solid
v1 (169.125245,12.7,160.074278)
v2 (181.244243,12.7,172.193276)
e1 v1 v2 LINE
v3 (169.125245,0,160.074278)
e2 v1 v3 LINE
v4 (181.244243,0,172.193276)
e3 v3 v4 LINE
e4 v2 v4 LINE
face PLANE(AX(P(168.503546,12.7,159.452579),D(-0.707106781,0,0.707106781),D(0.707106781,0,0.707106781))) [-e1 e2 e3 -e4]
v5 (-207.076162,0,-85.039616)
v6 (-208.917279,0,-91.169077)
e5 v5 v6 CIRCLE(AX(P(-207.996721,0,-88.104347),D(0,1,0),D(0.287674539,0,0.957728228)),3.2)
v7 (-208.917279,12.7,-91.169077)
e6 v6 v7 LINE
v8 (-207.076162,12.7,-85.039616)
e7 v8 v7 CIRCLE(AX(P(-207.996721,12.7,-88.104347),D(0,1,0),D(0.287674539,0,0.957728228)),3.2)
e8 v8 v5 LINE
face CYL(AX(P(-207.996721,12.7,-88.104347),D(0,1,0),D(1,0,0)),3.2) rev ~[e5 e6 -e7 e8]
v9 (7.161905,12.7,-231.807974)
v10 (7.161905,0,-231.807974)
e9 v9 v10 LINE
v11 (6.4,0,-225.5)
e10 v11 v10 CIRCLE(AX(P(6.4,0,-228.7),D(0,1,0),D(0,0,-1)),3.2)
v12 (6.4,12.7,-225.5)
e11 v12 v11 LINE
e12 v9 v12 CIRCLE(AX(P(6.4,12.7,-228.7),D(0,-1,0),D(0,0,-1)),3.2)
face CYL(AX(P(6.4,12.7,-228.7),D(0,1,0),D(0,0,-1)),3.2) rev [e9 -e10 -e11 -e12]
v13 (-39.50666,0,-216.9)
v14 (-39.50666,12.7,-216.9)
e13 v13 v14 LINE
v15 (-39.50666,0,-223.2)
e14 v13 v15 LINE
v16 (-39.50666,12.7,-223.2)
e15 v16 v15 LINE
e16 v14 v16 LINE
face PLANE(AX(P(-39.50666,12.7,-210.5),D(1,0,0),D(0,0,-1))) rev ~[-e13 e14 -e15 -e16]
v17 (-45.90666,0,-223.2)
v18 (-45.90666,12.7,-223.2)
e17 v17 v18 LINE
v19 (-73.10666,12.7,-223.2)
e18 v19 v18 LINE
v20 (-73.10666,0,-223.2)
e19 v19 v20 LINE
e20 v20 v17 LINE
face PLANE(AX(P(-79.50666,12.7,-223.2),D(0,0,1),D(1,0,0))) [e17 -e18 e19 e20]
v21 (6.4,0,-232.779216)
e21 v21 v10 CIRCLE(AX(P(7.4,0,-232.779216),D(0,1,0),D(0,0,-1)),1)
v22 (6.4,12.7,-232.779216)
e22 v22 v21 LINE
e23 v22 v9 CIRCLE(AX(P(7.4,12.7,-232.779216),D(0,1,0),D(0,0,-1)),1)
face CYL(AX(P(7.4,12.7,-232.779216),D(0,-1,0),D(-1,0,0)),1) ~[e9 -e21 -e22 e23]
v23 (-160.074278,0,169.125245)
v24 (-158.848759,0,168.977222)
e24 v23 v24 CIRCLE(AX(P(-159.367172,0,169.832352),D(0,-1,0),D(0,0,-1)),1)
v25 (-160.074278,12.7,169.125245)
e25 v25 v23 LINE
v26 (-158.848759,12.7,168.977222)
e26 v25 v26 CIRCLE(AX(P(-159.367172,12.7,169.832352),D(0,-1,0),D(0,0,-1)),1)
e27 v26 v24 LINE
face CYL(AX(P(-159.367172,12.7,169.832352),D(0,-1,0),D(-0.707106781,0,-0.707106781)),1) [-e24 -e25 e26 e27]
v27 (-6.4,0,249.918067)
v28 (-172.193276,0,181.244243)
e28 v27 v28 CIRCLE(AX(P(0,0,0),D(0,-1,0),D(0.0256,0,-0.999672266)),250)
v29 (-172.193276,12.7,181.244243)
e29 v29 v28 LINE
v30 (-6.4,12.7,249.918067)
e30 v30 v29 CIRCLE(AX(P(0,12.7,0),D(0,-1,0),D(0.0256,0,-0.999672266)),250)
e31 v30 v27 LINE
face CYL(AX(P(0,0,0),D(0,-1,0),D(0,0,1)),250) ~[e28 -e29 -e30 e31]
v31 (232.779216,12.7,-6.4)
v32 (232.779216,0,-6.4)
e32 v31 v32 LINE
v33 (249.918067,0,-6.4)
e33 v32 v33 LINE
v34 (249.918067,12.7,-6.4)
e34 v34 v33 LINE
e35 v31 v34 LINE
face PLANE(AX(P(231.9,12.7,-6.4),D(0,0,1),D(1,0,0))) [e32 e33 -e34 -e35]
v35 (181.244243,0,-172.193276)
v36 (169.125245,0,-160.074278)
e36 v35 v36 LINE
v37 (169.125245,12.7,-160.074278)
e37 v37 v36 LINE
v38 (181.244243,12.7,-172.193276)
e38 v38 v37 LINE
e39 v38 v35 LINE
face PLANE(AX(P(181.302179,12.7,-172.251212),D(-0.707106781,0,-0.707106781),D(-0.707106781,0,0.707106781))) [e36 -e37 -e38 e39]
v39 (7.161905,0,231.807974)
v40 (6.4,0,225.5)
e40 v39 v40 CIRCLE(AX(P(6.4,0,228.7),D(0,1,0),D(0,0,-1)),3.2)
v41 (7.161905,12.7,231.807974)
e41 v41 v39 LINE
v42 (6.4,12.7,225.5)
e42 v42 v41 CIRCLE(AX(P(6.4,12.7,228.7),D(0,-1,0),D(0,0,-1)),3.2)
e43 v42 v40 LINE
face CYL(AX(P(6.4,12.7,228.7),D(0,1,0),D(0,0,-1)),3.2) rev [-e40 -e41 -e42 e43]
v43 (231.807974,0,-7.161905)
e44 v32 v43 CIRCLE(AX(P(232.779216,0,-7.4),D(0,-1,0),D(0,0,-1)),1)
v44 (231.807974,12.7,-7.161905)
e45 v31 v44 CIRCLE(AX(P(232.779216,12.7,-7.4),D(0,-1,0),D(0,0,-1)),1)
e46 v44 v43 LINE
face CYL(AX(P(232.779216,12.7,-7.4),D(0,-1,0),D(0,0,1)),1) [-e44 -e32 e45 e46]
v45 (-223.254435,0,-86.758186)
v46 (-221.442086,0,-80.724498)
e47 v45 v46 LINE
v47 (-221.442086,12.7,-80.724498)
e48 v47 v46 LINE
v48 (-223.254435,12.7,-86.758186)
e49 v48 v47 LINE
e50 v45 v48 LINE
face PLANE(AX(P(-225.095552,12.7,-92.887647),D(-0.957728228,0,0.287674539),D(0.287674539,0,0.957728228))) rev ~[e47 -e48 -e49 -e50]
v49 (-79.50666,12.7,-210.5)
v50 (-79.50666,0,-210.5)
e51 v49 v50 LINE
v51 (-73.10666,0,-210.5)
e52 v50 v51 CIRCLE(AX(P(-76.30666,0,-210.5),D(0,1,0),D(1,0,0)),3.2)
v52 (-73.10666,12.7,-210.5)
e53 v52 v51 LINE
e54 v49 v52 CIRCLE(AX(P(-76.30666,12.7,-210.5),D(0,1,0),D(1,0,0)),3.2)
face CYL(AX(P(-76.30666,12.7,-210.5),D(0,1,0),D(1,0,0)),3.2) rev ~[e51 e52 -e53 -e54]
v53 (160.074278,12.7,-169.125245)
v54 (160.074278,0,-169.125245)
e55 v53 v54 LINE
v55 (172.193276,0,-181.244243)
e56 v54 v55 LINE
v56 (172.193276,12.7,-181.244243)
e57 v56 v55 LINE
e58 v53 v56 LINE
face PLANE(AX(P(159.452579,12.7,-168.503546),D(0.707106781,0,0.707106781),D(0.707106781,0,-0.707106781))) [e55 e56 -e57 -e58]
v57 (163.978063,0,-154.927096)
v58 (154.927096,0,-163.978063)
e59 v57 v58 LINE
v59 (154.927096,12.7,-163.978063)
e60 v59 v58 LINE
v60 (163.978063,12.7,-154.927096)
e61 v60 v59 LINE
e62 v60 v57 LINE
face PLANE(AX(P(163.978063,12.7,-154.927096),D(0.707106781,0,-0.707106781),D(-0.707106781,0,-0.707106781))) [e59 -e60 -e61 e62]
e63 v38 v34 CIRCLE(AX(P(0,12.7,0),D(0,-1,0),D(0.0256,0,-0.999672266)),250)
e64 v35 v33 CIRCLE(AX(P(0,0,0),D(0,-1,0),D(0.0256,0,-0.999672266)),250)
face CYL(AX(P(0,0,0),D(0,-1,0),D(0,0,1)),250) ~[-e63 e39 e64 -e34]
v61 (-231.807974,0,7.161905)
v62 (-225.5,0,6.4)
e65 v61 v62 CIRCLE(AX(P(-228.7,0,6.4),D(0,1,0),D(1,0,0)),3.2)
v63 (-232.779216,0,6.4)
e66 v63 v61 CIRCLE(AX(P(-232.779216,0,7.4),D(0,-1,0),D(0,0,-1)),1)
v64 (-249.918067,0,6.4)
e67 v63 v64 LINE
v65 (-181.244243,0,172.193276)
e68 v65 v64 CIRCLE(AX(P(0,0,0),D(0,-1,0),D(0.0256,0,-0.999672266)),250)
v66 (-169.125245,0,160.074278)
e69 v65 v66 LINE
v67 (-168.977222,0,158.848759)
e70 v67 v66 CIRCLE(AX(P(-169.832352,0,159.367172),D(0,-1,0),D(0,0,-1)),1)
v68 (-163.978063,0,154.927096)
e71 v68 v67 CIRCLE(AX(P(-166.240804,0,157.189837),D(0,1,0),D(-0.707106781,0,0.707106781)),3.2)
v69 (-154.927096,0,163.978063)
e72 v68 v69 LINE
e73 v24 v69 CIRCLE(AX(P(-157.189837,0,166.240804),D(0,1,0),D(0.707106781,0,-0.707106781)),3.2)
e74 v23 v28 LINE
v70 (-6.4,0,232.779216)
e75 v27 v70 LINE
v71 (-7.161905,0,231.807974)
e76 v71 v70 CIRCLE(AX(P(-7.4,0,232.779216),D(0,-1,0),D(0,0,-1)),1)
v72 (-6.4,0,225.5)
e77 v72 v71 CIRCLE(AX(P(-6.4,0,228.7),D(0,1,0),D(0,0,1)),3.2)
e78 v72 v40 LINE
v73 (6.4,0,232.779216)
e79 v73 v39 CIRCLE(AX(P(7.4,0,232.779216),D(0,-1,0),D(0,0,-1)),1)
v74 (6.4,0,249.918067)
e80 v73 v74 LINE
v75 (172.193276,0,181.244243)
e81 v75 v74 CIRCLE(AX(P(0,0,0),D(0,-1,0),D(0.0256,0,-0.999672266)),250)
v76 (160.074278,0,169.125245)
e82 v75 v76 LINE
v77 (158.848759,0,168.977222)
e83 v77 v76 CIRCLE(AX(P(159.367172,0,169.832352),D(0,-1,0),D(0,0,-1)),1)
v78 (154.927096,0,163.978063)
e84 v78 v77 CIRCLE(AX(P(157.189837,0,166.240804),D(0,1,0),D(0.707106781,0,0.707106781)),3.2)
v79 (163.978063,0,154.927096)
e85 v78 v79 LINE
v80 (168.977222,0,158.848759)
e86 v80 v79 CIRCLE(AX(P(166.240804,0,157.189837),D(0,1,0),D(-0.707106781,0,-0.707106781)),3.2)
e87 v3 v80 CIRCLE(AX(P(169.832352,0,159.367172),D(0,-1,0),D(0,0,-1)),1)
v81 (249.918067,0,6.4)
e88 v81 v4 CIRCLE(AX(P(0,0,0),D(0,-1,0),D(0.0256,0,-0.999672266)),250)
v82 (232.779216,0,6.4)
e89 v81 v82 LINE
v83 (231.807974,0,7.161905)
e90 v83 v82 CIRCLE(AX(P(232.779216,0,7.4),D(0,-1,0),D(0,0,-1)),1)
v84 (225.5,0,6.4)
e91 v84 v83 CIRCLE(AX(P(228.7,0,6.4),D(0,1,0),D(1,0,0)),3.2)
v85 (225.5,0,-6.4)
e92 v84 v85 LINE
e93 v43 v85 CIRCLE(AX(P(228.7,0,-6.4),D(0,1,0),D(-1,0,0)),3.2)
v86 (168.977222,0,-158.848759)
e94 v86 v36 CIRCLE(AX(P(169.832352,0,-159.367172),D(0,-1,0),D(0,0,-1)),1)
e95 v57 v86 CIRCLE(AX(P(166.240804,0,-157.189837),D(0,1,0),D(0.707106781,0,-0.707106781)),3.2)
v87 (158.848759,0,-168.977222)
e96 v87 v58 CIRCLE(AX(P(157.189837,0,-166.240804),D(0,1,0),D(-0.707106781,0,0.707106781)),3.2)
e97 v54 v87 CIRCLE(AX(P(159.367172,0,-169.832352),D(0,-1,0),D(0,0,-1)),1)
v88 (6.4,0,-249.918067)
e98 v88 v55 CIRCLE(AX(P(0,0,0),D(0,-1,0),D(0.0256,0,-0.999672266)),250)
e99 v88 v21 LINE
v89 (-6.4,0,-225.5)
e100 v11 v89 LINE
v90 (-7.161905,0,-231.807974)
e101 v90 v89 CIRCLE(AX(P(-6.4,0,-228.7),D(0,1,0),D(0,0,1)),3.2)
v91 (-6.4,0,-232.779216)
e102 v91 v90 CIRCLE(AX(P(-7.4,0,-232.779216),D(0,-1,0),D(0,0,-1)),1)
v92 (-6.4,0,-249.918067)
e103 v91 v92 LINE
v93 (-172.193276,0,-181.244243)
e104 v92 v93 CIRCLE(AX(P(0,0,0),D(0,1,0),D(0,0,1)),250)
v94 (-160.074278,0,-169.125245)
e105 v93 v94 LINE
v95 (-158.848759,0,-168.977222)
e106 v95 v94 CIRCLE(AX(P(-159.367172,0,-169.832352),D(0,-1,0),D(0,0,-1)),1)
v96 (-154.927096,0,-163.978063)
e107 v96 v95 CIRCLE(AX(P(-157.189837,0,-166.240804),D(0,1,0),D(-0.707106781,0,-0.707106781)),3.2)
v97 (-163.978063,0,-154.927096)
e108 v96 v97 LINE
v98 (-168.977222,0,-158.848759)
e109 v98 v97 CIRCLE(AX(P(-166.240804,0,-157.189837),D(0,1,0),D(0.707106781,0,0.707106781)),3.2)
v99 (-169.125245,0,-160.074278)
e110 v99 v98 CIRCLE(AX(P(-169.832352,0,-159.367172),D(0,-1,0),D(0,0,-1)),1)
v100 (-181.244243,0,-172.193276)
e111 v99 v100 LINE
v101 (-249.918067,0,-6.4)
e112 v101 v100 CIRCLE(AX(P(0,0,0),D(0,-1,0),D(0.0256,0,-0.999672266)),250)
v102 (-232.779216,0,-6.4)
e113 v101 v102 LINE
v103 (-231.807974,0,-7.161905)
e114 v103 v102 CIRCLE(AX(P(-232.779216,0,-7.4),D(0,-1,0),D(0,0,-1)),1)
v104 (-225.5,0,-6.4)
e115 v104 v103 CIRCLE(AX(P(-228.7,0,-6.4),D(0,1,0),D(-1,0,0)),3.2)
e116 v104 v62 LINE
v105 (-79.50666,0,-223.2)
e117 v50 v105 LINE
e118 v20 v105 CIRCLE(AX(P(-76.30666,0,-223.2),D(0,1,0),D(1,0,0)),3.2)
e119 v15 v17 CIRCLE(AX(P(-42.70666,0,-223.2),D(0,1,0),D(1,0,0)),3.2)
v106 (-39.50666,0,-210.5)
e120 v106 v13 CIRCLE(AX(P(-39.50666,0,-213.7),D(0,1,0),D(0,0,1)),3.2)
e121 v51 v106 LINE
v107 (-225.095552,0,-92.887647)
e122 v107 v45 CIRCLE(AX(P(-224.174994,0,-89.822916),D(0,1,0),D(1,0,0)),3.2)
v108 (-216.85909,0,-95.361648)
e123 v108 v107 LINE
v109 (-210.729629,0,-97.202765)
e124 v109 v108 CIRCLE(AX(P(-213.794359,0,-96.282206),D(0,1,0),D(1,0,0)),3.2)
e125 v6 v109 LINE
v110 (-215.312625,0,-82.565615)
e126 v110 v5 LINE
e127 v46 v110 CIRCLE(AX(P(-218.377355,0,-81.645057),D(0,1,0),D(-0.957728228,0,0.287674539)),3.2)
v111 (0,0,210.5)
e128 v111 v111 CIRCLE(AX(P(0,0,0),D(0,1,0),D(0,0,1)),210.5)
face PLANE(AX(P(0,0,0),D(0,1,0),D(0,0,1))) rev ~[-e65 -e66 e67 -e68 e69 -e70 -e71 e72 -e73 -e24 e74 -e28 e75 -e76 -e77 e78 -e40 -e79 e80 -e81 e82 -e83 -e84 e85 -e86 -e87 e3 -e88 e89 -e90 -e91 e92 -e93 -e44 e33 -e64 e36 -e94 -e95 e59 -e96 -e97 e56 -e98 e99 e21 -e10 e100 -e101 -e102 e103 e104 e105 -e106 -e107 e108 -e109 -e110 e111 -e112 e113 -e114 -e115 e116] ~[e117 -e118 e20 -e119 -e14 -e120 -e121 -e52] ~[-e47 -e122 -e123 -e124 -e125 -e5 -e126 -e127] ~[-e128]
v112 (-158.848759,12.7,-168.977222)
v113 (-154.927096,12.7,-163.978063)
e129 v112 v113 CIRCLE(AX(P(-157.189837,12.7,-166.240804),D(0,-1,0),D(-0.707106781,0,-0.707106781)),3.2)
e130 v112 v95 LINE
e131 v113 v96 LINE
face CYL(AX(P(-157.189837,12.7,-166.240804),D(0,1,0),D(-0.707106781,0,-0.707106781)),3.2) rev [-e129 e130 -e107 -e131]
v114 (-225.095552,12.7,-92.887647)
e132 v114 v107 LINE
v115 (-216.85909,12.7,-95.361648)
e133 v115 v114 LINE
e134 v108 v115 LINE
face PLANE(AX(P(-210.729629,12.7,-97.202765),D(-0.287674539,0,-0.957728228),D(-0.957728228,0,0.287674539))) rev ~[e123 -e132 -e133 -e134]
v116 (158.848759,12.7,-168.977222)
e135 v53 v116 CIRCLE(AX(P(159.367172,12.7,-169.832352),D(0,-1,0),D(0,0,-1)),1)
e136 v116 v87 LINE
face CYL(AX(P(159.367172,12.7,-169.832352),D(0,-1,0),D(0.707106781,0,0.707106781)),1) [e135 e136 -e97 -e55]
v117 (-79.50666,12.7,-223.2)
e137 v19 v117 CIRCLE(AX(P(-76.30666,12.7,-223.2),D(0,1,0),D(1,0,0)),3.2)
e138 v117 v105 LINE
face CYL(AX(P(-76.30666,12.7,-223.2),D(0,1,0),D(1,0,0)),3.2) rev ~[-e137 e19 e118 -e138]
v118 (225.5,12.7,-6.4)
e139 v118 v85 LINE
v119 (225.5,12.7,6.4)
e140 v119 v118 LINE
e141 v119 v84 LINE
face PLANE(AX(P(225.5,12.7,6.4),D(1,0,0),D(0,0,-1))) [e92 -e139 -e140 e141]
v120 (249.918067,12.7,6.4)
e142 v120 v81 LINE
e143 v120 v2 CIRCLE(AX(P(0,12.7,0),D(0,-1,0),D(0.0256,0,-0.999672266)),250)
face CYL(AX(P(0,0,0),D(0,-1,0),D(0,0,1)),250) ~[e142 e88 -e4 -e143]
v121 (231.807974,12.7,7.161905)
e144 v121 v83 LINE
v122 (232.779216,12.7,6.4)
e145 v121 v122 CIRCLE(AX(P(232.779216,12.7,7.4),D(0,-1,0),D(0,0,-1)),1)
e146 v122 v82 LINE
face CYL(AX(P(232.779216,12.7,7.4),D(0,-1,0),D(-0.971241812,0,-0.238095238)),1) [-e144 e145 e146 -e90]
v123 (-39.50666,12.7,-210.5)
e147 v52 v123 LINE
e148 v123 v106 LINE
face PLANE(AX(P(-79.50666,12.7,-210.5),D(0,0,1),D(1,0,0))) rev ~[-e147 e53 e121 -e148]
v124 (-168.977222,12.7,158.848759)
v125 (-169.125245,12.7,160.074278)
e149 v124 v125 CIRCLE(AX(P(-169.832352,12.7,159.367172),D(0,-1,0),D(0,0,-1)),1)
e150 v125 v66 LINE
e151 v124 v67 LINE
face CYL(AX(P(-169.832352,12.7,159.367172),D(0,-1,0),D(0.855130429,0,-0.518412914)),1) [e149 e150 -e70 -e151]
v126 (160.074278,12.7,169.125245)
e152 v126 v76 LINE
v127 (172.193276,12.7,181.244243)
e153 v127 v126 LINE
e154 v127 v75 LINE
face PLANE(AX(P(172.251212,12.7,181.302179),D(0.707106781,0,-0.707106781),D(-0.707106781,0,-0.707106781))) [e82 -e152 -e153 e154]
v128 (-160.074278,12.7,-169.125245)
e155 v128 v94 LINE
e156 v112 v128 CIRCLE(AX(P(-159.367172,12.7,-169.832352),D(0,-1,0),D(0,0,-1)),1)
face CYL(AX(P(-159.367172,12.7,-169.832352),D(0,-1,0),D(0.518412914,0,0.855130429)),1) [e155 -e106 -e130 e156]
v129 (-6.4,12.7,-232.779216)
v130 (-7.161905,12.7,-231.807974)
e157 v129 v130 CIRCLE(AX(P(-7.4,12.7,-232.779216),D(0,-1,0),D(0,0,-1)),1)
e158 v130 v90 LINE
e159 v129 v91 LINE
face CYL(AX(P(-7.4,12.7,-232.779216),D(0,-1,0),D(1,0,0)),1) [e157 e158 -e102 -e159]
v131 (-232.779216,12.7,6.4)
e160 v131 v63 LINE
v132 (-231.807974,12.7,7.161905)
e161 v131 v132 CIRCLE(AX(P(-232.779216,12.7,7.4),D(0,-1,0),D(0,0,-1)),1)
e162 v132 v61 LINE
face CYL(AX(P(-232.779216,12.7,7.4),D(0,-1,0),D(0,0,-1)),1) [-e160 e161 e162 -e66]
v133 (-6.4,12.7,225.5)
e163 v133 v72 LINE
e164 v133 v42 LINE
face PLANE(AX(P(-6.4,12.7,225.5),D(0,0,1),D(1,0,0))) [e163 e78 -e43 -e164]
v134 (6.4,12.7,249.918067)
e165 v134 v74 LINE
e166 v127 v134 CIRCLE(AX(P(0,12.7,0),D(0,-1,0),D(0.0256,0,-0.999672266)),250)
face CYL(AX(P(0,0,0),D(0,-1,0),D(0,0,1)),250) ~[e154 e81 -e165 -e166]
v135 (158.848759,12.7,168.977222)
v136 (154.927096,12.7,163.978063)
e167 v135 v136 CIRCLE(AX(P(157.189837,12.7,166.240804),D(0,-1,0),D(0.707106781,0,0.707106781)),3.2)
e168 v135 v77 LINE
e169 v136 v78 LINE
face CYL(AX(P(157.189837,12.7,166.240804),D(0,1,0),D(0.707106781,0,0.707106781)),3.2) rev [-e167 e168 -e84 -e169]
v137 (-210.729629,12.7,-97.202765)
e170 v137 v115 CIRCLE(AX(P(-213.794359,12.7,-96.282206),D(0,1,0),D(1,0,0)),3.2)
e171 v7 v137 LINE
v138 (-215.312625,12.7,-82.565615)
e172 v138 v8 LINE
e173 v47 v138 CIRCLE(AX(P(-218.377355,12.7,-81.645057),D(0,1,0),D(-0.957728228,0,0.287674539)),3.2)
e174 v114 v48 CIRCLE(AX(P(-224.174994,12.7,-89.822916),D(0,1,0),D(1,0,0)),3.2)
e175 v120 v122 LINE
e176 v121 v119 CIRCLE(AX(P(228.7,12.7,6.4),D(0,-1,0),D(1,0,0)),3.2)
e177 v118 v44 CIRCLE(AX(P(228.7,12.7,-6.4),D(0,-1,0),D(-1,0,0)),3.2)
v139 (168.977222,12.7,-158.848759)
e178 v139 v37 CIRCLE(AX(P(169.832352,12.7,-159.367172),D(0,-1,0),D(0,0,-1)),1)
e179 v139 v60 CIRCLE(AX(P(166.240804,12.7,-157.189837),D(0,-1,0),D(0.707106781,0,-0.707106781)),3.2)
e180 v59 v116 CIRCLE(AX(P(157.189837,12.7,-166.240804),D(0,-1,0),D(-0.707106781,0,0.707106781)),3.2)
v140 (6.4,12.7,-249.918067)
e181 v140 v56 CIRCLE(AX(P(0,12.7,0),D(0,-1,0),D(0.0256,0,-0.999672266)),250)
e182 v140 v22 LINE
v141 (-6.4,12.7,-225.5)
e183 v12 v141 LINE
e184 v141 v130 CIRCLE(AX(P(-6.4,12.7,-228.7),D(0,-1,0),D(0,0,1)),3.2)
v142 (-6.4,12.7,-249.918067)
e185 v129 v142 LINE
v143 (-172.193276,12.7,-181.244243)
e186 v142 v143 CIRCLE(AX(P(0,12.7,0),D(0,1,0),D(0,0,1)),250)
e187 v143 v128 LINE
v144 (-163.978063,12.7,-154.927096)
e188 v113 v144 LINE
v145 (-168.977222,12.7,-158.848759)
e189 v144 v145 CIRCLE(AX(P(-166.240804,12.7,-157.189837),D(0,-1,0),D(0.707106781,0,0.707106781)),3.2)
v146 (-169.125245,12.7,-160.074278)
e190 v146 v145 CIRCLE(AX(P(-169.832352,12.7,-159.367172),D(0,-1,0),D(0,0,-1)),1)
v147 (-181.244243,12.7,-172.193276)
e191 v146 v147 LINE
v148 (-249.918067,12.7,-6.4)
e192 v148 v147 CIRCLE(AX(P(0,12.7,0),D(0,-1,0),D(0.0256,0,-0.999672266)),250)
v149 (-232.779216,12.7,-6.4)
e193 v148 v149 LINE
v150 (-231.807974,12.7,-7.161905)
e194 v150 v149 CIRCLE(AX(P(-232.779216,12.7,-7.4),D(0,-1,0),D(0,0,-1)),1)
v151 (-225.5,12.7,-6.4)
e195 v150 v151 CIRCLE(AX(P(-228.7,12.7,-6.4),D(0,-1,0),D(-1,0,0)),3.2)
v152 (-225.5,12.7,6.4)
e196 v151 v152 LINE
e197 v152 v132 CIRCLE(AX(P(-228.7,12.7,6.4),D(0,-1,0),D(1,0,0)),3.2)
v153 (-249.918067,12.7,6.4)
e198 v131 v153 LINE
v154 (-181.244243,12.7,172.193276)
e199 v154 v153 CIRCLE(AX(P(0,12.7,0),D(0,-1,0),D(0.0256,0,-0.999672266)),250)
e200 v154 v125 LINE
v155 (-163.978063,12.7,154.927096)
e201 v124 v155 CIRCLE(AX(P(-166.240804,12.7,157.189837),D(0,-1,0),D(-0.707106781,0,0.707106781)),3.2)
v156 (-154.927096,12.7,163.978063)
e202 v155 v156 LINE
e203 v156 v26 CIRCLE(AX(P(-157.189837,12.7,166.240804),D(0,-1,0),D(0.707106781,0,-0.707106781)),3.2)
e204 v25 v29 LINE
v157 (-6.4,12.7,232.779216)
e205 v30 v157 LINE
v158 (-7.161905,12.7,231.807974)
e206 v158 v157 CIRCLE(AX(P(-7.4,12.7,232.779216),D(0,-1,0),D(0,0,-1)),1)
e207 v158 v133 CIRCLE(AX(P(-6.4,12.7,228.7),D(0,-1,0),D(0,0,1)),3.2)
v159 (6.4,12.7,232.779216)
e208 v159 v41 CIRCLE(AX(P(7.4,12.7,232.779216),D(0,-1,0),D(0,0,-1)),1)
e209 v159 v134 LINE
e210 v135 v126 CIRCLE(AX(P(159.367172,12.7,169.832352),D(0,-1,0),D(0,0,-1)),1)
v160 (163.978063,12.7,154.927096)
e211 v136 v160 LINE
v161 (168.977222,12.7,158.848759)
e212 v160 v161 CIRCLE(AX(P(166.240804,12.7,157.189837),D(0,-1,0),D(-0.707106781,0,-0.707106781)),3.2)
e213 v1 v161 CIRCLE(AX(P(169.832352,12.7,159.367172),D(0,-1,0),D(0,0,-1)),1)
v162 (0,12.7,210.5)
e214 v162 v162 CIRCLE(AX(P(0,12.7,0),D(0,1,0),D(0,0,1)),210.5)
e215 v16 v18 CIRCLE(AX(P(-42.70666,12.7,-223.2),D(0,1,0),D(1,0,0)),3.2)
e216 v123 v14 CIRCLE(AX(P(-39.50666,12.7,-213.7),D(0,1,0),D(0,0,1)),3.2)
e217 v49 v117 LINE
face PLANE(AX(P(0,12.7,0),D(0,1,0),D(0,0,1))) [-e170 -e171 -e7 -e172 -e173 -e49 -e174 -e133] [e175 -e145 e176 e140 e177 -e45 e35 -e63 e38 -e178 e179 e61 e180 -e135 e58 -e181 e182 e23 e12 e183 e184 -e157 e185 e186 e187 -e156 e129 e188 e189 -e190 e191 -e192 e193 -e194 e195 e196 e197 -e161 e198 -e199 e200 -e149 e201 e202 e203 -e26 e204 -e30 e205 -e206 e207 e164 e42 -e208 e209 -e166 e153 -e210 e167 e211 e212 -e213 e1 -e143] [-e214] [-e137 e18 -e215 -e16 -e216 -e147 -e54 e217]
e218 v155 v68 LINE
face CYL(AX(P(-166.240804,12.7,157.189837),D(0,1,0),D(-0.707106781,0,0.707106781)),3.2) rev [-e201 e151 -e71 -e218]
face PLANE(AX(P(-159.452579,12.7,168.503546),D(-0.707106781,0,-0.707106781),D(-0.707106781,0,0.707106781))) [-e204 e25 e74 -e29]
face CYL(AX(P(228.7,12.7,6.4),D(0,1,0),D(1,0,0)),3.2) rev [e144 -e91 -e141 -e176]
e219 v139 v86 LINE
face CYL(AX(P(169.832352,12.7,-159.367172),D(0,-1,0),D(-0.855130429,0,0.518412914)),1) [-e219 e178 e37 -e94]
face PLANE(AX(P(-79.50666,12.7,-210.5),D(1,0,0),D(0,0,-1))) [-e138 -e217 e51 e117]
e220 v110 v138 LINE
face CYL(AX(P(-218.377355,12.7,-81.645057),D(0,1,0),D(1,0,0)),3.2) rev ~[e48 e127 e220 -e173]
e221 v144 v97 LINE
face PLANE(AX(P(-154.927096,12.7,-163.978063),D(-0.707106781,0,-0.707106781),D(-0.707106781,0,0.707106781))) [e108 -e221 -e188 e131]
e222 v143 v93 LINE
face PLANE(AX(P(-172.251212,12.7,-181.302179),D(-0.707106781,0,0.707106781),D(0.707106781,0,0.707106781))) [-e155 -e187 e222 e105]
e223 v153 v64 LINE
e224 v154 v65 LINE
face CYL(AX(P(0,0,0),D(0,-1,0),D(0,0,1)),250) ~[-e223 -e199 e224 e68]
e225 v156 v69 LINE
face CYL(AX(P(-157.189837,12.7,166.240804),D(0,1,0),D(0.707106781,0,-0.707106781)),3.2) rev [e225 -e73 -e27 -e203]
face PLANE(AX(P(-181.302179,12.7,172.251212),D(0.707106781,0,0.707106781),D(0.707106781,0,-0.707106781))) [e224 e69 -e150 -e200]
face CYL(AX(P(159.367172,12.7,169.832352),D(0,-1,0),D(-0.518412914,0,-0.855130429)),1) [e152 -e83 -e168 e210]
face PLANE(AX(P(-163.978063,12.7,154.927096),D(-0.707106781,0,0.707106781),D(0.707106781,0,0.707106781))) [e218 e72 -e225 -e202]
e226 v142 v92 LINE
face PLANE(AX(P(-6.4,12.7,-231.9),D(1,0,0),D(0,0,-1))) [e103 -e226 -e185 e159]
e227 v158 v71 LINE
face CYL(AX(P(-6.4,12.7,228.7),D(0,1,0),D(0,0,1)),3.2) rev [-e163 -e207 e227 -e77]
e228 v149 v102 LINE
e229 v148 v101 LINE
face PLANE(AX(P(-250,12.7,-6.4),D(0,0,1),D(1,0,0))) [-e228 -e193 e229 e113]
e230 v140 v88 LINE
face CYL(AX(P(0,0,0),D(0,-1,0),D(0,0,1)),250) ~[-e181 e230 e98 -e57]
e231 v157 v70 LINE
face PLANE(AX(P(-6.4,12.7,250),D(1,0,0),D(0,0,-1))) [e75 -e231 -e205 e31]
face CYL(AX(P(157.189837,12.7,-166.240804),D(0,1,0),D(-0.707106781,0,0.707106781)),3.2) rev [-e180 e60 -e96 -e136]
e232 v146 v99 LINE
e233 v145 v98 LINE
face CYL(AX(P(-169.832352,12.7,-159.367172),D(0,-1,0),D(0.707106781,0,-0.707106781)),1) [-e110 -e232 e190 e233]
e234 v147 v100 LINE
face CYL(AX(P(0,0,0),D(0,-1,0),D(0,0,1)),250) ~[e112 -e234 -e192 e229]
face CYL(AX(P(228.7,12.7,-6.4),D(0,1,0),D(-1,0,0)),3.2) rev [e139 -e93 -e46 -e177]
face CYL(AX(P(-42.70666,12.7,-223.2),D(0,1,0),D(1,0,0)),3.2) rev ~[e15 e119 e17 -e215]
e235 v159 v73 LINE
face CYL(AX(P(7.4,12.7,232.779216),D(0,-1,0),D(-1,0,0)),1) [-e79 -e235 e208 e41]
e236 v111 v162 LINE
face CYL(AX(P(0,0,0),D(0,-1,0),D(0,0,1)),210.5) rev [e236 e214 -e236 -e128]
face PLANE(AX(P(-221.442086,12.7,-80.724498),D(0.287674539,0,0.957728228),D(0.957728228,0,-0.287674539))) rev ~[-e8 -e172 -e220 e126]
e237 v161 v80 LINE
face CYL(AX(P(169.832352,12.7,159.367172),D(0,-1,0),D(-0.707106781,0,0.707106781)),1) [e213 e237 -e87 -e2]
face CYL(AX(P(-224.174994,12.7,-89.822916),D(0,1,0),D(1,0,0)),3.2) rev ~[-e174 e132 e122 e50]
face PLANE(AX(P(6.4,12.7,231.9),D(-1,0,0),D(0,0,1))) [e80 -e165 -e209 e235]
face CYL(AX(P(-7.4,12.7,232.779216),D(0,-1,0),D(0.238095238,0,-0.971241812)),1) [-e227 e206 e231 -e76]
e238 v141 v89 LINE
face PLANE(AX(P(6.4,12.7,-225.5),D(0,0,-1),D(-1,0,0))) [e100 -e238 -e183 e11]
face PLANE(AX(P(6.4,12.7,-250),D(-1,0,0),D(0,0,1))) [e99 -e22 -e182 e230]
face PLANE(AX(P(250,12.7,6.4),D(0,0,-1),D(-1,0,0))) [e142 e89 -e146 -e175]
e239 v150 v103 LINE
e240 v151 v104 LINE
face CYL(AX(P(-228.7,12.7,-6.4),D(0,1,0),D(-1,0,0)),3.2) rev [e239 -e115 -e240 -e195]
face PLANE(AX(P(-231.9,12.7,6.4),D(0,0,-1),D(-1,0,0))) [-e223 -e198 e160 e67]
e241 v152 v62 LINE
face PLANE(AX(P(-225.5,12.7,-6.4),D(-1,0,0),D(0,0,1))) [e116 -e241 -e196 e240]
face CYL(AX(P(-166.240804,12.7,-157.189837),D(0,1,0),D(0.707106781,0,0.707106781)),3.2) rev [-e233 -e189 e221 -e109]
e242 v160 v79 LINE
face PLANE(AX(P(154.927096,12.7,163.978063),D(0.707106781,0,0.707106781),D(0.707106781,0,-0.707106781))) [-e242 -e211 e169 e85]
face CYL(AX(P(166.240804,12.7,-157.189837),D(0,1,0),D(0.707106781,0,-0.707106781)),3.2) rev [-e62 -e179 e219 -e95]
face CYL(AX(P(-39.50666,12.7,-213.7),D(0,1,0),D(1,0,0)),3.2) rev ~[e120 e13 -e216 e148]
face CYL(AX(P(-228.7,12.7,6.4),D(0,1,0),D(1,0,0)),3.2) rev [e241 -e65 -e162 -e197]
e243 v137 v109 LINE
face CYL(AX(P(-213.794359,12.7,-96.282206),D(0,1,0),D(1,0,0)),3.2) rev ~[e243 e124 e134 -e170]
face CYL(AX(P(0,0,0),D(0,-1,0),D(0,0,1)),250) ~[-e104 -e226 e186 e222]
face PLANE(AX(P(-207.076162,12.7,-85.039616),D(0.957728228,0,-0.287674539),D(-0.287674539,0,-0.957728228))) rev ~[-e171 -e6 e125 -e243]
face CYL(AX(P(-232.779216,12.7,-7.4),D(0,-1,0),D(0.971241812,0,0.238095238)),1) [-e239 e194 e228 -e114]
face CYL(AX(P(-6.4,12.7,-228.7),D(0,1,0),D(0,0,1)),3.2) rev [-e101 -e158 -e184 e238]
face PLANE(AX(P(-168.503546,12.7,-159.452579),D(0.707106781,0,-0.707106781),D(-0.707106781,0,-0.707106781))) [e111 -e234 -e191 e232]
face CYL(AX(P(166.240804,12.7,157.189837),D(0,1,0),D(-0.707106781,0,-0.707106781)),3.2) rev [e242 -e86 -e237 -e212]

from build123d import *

# Parameters (mm, degrees)
SKETCH1_R                = 250
SKETCH1_R_2              = 210.5
BOSS_EXTRUDE1_DEPTH      = 12.7
CUT_EXTRUDE1_DEPTH       = 354.781415566
FILLET1_R                = 1
CIRPATTERN1_COUNT        = 8
FILLET1_OF_CIRPATTERN1_R = 1
SKETCH6_W                = 40
SKETCH6_H                = 12.7
CUT_EXTRUDE4_DEPTH       = 354.665618911
SKETCH7_R                = 3.2
CUT_EXTRUDE5_DEPTH       = 354.665618911


with BuildPart() as part:
    # Sketch1 → Boss-Extrude1 (new body)
    with BuildSketch(Plane(origin=(0, 0, 0), x_dir=(1, 0, 0), z_dir=(0, 1, 0))):
        with Locations(Location((0, 0, 0), (0, 0, 270))):
            Circle(SKETCH1_R)
        with Locations(Location((0, 0, 0), (0, 0, 270))):
            Circle(SKETCH1_R_2, mode=Mode.SUBTRACT)
    extrude(amount=BOSS_EXTRUDE1_DEPTH)

    # Sketch2 → Cut-Extrude1 (cut, through all)
    with BuildSketch(Plane(origin=(0, 12.7, 0), x_dir=(1, 0, 0), z_dir=(0, 1, 0))):
        with BuildLine():
            Line((6.4, 225.5), (-6.4, 225.5))
            ThreePointArc((-6.4, 225.5), (-9.6, 228.7), (-6.4, 231.9))
            Line((-6.4, 231.9), (-6.4, 250))
            Line((-6.4, 250), (6.4, 250))
            Line((6.4, 250), (6.4, 231.9))
            ThreePointArc((6.4, 231.9), (9.6, 228.7), (6.4, 225.5))
        make_face()
    cut_extrude1 = extrude(amount=-CUT_EXTRUDE1_DEPTH, mode=Mode.SUBTRACT)

    # Fillet1
    fillet1_edges = [part.edges().sort_by_distance(p)[0] for p in [
        (-6.4, 6.35, -231.9),
        (6.4, 6.35, -231.9),
    ]]
    fillet(fillet1_edges, radius=FILLET1_R)

    # CirPattern1: Cut-Extrude1 ×8 about axis
    cirpattern1_axis = Axis((0, 0, 0), (0, 1, 0))
    for i in range(1, CIRPATTERN1_COUNT):
        add(cut_extrude1.rotate(cirpattern1_axis, i * 360 / CIRPATTERN1_COUNT), mode=Mode.SUBTRACT)

    # Fillet1 of CirPattern1
    fillet1_of_cirpattern1_edges = [part.edges().sort_by_distance(p)[0] for p in [
        (-168.503545957, 6.35, -159.452579158),
        (-159.452579158, 6.35, -168.503545957),
        (-231.9, 6.35, 6.4),
        (-231.9, 6.35, -6.4),
        (-159.452579158, 6.35, 168.503545957),
        (-168.503545957, 6.35, 159.452579158),
        (6.4, 6.35, 231.9),
        (-6.4, 6.35, 231.9),
        (168.503545957, 6.35, 159.452579158),
        (159.452579158, 6.35, 168.503545957),
        (231.9, 6.35, -6.4),
        (231.9, 6.35, 6.4),
        (159.452579158, 6.35, -168.503545957),
        (168.503545957, 6.35, -159.452579158),
    ]]
    fillet(fillet1_of_cirpattern1_edges, radius=FILLET1_OF_CIRPATTERN1_R)

    # Sketch6 → Cut-Extrude4 (cut, through all)
    with BuildSketch(Plane(origin=(0, 12.7, 0), x_dir=(1, 0, 0), z_dir=(0, 1, 0))):
        with Locations((-59.506660352, 216.85)):
            Rectangle(SKETCH6_W, SKETCH6_H)
        Polygon((-225.095552296, 92.887646728), (-221.442085646, 80.724498227), (-207.076162221, 85.039616318), (-210.72962887, 97.202764818), align=None)
    extrude(amount=-CUT_EXTRUDE4_DEPTH, mode=Mode.SUBTRACT)

    # Sketch7 → Cut-Extrude5 (cut, through all)
    with BuildSketch(Plane(origin=(0, 12.7, 0), x_dir=(1, 0, 0), z_dir=(0, 1, 0))):
        with Locations((-224.17499377, 89.822916397)):
            Circle(SKETCH7_R)
        with Locations((-218.377355315, 81.645056753)):
            Circle(SKETCH7_R)
        with Locations((-207.996720747, 88.104346648)):
            Circle(SKETCH7_R)
        with Locations((-213.794359201, 96.282206292)):
            Circle(SKETCH7_R)
        with Locations((-76.306660352, 223.2)):
            Circle(SKETCH7_R)
        with Locations((-42.706660352, 223.2)):
            Circle(SKETCH7_R)
        with Locations((-39.506660352, 213.7)):
            Circle(SKETCH7_R)
        with Locations((-76.306660352, 210.5)):
            Circle(SKETCH7_R)
    extrude(amount=-CUT_EXTRUDE5_DEPTH, mode=Mode.SUBTRACT)


solid = part.part
